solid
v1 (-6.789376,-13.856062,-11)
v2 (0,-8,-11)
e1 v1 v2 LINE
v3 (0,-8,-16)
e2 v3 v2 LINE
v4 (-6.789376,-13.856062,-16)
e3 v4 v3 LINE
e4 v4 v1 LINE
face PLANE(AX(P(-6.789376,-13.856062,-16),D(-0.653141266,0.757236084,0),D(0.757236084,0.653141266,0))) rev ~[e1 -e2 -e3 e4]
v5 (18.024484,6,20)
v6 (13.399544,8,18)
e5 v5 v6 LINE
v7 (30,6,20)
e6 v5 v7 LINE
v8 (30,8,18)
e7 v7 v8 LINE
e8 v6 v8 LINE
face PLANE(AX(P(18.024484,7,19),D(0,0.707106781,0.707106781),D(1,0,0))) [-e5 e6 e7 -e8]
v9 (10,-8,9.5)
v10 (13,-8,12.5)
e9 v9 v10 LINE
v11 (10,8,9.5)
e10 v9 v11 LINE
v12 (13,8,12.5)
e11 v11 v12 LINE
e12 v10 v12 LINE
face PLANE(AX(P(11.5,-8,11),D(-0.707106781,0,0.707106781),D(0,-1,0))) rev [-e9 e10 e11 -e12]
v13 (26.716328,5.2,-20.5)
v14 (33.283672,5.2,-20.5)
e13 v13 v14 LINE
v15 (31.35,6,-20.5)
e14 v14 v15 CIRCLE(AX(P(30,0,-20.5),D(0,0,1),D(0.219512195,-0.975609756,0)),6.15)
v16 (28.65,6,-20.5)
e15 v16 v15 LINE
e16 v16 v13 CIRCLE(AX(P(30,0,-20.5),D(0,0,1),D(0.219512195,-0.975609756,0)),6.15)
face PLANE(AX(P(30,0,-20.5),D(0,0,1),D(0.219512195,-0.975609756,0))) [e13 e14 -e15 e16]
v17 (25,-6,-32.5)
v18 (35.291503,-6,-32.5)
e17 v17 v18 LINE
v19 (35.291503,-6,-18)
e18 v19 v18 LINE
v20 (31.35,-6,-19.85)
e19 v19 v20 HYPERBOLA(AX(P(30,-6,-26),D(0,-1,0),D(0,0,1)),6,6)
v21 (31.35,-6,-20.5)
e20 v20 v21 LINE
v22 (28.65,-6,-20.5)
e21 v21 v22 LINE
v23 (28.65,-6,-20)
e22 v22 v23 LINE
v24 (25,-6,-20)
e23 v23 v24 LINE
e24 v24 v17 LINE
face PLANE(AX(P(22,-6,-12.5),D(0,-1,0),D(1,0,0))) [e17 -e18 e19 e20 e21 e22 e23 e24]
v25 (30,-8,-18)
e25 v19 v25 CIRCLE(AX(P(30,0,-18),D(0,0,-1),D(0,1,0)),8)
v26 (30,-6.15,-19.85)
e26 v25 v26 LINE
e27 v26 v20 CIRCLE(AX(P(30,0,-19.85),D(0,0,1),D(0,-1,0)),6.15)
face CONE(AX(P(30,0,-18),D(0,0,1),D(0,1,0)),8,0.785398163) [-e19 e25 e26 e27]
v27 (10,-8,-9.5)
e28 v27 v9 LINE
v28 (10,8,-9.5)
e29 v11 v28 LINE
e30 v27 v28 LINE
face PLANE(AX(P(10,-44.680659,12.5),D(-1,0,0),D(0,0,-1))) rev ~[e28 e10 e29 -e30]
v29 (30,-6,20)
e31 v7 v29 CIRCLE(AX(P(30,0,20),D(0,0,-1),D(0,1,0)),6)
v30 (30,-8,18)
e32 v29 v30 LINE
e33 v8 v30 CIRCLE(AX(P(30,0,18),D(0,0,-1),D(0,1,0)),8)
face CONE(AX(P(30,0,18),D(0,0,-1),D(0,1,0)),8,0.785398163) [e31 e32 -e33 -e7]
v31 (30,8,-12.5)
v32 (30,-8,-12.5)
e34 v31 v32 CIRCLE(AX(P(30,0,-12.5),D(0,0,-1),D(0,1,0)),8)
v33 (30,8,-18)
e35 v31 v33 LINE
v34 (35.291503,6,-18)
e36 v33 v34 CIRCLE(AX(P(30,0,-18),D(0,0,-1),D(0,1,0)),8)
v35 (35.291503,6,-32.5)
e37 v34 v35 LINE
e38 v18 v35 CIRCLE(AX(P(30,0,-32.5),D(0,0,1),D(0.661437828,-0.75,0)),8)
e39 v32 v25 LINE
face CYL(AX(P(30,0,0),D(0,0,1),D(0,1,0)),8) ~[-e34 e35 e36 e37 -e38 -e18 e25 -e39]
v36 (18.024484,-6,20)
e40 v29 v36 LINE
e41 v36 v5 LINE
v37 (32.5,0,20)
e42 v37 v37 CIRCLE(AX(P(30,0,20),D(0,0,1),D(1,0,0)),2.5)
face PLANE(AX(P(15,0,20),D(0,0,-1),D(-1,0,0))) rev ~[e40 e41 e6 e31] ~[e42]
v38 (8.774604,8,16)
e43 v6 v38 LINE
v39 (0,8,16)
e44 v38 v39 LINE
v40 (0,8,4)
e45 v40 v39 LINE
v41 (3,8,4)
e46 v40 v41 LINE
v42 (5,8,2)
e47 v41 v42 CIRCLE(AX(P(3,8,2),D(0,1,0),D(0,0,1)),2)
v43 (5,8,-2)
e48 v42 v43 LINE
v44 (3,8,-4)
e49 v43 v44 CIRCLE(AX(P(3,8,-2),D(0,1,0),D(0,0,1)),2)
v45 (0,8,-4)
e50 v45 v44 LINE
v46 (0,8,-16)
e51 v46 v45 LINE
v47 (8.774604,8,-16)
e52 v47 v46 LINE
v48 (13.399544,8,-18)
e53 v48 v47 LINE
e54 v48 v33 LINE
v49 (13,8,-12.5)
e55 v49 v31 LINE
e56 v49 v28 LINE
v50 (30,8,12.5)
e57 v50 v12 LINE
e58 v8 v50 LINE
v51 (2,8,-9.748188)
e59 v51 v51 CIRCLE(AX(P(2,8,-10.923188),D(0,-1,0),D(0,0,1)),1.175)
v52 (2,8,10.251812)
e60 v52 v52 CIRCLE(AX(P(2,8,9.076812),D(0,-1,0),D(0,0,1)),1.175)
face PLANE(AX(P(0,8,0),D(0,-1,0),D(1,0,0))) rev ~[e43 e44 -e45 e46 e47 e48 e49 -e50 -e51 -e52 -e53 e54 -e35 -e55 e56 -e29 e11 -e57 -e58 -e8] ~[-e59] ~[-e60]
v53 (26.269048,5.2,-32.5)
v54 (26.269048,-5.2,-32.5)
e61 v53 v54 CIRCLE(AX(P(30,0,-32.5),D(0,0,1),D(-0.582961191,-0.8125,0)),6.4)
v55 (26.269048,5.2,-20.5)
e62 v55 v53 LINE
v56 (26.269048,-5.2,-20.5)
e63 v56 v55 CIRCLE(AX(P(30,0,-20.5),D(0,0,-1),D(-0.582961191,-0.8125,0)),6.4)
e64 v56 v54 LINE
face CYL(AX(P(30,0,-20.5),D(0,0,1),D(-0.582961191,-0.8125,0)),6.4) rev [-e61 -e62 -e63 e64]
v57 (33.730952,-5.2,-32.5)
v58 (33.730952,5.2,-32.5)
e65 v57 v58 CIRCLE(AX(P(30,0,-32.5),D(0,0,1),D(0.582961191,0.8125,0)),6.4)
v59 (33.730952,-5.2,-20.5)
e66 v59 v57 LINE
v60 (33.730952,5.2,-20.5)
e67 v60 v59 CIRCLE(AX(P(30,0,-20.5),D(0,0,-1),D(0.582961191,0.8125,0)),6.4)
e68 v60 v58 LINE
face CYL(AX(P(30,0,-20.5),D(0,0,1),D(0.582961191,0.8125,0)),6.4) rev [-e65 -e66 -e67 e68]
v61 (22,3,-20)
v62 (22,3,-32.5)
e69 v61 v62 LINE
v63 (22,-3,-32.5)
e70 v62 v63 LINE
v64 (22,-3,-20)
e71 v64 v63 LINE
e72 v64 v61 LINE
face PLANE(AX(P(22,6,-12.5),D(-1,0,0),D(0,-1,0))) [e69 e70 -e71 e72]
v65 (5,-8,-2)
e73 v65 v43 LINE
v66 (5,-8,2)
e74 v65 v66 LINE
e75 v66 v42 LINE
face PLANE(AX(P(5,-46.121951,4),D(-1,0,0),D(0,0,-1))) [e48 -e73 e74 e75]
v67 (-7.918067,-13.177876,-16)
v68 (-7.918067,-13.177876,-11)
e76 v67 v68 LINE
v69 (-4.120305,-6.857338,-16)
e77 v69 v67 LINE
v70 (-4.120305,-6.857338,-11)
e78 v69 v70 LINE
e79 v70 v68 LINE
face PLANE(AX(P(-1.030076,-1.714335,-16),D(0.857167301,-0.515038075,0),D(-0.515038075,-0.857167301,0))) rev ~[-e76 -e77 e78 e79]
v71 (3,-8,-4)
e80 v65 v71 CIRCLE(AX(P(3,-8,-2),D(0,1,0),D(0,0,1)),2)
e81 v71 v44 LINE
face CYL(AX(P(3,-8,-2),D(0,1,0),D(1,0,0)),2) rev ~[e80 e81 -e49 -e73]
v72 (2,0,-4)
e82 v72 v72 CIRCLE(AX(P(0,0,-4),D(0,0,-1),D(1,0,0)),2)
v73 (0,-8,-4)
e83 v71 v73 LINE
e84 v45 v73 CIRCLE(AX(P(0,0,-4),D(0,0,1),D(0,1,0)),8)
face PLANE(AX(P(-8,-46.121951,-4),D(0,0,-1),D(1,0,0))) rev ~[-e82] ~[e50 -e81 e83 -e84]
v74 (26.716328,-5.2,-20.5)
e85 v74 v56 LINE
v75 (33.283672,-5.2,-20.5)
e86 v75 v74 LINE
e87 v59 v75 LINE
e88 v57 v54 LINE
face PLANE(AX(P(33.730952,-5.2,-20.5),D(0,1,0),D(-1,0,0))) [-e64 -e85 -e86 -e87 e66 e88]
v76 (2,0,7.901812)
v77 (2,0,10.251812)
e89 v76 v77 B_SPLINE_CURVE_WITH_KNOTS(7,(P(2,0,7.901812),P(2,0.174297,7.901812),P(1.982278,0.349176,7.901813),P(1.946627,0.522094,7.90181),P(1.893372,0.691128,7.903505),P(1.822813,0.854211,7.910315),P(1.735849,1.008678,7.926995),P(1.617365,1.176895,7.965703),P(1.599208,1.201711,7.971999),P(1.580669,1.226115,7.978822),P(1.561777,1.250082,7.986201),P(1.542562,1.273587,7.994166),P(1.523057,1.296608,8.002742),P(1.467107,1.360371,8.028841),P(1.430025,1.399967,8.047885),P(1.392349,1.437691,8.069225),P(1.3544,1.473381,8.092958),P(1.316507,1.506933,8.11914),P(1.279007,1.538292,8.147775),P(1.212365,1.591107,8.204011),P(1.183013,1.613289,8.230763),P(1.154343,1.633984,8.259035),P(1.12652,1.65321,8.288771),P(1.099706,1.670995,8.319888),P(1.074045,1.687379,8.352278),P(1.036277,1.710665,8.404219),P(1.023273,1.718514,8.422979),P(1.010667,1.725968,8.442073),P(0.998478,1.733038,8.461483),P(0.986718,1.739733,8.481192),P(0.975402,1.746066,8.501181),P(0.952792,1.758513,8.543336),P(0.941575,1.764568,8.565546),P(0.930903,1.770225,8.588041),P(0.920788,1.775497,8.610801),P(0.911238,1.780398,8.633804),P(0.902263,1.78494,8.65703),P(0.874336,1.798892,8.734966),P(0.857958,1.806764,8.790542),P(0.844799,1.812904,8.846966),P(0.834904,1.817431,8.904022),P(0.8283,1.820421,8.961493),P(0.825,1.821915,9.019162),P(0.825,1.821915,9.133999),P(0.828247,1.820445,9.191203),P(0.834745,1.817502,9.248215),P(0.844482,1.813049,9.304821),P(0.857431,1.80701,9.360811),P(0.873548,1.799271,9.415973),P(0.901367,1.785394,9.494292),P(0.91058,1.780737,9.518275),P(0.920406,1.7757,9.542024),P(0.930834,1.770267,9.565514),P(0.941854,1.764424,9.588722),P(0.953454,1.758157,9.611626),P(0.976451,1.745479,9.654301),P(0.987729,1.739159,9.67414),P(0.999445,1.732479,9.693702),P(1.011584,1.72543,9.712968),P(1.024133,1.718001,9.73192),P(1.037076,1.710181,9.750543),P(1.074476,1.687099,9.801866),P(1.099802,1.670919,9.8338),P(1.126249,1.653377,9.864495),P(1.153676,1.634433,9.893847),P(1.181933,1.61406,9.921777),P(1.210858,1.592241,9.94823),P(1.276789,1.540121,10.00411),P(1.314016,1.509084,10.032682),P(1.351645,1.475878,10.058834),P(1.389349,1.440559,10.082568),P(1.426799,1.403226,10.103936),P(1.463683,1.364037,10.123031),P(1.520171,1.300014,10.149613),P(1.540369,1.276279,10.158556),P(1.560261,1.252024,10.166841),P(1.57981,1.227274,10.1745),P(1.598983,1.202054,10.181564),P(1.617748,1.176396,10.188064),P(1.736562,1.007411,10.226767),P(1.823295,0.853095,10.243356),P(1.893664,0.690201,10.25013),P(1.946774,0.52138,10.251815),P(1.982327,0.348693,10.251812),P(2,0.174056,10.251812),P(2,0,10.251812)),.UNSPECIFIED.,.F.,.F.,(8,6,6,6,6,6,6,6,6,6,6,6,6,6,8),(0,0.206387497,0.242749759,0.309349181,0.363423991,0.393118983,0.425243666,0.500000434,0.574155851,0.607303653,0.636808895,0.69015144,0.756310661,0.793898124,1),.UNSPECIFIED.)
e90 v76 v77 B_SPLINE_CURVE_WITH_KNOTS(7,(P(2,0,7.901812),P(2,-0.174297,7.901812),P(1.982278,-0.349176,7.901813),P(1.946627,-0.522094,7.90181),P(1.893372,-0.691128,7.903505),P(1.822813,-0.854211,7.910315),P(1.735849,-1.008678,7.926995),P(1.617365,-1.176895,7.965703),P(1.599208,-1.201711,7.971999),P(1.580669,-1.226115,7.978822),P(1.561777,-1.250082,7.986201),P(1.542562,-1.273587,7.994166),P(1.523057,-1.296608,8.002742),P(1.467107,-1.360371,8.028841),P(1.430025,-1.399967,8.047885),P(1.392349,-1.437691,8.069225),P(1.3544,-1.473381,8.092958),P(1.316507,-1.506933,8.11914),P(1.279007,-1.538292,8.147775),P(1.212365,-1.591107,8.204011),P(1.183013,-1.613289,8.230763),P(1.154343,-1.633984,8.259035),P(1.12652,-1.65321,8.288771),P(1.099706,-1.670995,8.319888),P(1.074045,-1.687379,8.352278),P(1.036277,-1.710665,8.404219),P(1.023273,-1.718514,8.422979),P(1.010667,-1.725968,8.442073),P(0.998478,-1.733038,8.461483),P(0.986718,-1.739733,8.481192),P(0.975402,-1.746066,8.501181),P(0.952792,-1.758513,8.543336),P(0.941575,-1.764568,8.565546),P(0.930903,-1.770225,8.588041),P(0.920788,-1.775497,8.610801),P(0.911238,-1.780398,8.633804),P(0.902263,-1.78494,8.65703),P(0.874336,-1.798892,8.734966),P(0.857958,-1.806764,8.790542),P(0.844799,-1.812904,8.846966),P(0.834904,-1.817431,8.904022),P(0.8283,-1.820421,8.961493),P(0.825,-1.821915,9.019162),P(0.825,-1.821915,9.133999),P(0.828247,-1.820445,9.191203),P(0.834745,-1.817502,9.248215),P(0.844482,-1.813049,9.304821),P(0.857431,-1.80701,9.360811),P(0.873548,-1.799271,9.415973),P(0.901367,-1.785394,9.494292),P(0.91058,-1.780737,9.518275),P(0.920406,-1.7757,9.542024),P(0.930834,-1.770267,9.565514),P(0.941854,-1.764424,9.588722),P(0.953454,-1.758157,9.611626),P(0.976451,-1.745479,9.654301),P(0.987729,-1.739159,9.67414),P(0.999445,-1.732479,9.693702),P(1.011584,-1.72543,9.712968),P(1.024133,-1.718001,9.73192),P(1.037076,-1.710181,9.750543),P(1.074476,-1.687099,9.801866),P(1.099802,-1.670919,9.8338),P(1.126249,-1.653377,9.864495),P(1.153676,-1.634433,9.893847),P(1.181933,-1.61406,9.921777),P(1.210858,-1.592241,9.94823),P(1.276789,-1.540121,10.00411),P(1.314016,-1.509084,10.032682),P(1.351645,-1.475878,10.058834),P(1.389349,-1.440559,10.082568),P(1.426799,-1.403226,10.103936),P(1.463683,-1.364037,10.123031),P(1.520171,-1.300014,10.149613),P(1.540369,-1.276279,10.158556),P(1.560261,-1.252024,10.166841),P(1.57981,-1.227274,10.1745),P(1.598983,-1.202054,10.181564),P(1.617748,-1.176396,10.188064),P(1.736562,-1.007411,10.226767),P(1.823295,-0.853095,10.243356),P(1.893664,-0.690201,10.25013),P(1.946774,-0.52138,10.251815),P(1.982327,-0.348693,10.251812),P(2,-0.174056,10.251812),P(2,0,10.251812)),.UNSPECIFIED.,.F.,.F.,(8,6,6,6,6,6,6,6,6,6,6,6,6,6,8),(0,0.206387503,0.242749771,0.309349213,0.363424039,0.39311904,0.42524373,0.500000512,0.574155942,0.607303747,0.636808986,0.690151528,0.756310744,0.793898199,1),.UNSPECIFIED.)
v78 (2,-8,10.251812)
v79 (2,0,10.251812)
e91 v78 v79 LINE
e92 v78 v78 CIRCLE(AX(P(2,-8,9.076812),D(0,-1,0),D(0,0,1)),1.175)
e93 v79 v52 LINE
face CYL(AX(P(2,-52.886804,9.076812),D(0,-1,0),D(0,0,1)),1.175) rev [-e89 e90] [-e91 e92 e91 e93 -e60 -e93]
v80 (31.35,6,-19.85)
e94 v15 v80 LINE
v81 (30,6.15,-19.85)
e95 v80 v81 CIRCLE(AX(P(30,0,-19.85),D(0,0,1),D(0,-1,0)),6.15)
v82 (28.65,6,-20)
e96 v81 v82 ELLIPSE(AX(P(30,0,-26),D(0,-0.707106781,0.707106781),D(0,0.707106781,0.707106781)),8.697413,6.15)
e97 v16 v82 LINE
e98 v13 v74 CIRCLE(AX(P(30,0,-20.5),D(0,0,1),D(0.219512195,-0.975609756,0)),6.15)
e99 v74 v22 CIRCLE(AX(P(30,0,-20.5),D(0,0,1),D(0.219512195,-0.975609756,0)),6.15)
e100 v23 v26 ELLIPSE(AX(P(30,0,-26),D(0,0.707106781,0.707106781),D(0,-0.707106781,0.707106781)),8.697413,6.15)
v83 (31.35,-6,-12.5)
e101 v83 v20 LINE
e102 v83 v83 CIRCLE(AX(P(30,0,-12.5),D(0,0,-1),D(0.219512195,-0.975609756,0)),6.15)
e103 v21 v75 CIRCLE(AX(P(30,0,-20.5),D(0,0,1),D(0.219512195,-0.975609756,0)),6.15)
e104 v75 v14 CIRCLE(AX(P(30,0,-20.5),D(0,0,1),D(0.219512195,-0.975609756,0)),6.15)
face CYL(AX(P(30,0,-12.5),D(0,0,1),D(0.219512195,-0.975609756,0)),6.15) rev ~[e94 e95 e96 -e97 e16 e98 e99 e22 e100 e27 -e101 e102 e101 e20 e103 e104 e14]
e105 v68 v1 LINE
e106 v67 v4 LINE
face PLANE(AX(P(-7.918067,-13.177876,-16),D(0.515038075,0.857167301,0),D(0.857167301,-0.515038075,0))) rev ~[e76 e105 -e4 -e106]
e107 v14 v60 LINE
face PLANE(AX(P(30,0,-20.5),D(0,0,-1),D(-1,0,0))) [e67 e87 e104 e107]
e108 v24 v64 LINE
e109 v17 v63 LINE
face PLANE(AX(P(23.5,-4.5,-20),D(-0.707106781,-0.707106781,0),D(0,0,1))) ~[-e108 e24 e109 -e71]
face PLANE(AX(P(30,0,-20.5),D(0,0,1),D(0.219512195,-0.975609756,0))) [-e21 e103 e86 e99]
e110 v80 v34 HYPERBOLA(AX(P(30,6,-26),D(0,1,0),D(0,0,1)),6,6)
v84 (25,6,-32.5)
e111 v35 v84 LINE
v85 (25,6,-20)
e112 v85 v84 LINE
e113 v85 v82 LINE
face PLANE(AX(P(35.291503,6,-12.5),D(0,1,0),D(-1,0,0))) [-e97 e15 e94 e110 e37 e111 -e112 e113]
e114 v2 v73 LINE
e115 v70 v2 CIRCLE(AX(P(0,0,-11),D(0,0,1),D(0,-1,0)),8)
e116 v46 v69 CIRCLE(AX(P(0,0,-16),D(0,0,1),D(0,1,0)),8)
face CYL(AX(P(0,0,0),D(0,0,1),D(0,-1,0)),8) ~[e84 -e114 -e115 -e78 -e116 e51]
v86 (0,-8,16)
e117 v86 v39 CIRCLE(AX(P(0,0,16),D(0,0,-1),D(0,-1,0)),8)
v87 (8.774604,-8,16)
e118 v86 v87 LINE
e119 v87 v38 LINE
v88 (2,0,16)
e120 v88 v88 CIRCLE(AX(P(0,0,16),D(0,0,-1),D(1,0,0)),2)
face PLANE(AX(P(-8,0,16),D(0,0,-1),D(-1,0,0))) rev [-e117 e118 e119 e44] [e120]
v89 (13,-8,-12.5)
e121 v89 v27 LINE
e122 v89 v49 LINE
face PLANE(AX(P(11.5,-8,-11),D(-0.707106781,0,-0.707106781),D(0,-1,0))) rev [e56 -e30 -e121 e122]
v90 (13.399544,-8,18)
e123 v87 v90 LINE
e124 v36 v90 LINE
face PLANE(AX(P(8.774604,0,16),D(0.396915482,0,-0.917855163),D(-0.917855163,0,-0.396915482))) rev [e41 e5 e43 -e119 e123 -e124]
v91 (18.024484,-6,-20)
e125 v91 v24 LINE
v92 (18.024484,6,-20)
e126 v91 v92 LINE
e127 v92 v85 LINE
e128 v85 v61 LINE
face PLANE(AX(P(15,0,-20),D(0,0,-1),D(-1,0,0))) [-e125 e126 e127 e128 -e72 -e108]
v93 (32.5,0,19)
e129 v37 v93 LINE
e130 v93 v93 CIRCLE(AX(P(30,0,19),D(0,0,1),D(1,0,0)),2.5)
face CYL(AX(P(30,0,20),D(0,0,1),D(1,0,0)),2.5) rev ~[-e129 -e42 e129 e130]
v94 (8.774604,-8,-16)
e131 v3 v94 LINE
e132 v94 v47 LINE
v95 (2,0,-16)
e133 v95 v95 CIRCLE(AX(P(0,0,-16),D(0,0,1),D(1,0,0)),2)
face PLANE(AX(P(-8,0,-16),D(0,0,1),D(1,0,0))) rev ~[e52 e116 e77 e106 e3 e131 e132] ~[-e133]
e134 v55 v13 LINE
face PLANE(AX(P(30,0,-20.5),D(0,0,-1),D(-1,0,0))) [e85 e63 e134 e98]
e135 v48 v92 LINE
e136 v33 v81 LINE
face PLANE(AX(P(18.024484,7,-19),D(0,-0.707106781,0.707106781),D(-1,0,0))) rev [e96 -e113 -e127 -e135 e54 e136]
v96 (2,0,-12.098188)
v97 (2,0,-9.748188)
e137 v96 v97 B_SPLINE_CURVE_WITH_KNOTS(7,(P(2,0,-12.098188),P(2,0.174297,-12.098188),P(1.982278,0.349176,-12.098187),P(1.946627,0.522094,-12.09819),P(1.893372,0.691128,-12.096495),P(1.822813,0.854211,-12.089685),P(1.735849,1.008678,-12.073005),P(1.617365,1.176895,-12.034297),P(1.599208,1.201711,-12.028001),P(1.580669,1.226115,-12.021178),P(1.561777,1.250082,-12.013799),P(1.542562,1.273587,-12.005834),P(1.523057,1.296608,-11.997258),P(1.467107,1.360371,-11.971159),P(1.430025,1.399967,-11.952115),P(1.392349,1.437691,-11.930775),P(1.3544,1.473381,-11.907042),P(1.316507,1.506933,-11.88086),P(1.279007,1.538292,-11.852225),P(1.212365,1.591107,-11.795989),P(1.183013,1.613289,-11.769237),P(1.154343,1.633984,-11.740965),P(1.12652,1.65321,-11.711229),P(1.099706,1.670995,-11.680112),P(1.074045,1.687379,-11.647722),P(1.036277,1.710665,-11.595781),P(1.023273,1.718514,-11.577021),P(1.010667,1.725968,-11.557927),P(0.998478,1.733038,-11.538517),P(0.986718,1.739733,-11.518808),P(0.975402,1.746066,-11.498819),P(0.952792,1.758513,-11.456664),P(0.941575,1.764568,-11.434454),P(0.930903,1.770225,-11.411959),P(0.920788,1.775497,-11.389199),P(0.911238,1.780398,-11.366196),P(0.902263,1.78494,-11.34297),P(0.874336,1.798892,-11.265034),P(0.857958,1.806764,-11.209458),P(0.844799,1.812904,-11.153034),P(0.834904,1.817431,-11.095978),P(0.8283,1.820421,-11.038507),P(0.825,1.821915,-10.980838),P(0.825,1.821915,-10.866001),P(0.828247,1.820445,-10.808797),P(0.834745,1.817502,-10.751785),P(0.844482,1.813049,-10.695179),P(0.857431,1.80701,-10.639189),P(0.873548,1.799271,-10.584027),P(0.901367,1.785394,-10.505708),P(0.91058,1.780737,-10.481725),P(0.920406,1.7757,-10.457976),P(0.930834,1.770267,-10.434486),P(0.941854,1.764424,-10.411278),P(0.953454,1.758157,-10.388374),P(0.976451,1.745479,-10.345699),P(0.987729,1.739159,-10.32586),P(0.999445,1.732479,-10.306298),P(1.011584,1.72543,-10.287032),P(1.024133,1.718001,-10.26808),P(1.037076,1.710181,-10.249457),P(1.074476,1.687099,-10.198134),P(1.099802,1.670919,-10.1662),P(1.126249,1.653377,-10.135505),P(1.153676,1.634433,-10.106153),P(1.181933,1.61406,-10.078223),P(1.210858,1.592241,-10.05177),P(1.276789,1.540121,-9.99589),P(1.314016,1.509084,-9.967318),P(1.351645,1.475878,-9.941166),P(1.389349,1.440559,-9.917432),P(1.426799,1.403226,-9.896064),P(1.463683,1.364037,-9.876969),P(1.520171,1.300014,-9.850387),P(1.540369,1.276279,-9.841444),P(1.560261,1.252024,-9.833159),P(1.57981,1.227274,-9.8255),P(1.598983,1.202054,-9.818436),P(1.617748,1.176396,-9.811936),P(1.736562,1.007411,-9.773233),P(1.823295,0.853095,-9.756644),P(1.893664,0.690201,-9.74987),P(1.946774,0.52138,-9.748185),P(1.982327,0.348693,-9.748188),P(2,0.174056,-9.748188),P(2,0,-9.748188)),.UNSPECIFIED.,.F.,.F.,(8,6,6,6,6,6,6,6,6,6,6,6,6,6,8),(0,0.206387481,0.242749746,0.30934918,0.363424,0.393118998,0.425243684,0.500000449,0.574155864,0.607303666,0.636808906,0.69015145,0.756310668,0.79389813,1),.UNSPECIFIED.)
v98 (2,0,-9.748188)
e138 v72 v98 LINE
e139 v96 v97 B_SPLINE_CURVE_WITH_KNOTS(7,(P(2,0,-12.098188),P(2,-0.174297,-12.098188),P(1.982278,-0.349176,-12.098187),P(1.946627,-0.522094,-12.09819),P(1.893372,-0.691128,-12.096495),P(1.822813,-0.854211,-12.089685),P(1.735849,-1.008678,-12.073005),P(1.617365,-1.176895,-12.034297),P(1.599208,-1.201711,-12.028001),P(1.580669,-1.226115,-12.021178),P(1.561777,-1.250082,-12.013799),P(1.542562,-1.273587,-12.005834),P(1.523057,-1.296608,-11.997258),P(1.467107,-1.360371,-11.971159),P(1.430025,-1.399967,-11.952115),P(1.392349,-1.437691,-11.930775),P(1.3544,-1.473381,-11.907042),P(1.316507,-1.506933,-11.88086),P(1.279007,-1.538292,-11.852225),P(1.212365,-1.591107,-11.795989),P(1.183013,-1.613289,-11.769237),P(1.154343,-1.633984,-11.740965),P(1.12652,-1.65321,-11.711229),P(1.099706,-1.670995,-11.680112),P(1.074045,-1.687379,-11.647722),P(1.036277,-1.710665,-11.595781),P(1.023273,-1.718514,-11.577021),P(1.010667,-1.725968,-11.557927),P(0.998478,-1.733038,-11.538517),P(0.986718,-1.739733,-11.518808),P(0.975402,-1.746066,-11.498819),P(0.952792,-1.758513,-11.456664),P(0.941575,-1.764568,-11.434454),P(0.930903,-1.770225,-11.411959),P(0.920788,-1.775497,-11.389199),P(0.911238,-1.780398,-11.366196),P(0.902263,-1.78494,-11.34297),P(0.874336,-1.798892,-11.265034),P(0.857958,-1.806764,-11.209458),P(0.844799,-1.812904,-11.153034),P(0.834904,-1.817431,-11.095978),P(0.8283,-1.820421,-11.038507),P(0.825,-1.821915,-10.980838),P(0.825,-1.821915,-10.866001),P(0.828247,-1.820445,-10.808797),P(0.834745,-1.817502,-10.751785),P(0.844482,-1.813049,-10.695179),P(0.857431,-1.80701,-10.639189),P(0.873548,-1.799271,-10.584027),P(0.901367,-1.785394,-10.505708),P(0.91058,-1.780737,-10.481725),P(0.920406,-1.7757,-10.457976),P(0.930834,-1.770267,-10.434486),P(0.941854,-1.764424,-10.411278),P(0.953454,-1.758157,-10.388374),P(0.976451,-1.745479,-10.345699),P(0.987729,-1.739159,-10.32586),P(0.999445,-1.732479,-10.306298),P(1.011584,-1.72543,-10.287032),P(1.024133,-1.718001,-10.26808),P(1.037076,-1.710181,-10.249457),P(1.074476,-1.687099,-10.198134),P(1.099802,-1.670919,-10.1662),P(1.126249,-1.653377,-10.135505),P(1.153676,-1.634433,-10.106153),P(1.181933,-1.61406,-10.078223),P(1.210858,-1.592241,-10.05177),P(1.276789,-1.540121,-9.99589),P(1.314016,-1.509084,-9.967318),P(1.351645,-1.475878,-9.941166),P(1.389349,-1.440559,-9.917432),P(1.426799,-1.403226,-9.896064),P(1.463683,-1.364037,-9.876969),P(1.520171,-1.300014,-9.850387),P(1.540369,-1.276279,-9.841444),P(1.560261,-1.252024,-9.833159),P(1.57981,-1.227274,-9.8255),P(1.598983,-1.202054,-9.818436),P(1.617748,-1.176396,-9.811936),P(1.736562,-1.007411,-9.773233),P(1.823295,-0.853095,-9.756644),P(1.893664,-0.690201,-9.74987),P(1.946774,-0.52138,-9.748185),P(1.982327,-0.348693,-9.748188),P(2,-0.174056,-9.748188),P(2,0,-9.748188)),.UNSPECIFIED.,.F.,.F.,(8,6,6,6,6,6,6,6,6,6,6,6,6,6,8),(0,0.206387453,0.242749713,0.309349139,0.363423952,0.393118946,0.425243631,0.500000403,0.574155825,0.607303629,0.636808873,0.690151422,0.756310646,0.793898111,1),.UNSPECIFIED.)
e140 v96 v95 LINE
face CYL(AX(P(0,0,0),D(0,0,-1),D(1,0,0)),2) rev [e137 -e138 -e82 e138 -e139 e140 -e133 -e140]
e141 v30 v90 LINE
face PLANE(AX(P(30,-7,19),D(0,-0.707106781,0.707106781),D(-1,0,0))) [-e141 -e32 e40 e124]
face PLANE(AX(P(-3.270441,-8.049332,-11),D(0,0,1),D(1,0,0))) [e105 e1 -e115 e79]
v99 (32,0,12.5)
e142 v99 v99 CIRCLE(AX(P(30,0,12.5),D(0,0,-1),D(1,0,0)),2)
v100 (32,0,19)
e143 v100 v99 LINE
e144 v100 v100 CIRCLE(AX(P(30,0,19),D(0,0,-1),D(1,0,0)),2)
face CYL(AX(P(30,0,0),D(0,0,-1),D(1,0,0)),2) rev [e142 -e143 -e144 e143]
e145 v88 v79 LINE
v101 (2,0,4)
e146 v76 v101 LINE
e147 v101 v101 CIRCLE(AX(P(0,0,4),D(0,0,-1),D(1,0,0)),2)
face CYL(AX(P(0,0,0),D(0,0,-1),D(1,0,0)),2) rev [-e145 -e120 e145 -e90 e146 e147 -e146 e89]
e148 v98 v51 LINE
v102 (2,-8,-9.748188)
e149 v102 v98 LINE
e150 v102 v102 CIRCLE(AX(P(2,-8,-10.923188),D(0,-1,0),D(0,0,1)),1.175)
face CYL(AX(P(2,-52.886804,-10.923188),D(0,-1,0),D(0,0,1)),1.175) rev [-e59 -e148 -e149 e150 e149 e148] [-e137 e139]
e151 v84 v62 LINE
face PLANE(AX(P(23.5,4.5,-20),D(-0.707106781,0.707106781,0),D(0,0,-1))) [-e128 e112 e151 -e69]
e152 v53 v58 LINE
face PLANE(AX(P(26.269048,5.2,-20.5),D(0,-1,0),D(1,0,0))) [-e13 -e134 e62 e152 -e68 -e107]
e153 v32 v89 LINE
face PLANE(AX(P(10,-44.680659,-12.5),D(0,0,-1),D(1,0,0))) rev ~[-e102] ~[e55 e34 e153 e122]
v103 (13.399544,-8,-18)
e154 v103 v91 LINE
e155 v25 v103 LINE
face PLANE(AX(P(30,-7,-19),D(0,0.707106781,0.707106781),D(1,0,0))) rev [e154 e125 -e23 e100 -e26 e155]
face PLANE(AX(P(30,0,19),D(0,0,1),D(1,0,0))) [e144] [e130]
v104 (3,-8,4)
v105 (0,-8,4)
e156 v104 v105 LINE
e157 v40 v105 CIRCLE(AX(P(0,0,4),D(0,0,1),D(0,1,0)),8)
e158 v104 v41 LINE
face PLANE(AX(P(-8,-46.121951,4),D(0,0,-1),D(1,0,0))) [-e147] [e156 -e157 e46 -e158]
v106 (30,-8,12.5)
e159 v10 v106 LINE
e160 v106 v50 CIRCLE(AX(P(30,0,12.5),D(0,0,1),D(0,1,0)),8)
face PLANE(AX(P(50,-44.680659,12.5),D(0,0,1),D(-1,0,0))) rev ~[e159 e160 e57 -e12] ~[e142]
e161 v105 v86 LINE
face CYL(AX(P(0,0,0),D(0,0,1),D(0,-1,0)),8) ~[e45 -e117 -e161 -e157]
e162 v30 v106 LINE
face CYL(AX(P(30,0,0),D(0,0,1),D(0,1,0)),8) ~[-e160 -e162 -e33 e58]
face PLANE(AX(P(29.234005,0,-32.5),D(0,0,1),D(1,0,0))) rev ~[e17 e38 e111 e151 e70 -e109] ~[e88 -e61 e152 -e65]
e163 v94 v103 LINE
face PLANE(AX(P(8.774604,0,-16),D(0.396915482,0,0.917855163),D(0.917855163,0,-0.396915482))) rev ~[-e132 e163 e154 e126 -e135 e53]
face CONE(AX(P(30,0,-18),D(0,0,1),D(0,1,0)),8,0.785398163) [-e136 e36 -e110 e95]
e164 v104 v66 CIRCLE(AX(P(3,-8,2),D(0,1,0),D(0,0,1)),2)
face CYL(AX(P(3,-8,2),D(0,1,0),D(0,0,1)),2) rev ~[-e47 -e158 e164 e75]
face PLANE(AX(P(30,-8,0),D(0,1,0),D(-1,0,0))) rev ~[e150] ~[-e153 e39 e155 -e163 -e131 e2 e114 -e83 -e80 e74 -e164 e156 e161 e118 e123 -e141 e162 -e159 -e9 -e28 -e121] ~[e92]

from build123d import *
from build123d.topology import SkipClean

# Parameters (mm, degrees)
CROQUIS1_R                 = 2
CROQUIS1_R_2               = 2.000000000000003
SALIENTE_EXTRUIR1_DEPTH    = 20
CORTAR_EXTRUIR1_DEPTH      = 44.68065933568311
CORTAR_EXTRUIR2_DEPTH      = 44.68065933568311
CORTAR_EXTRUIR2_DEPTH_BACK = 44.68065933568311
BOSS_EXTRUDE2_START        = -16
BOSS_EXTRUDE2_DEPTH        = 5
CHAFL_N1_SIZE              = 2
CHAFL_N2_SIZE              = 3
CORTAR_EXTRUIR3_DEPTH      = 46.12195091942049
CORTAR_EXTRUIR3_DEPTH_BACK = 46.12195091942049
CROQUIS4_W                 = 13
CROQUIS4_H                 = 8.000000000000007
BOSS_EXTRUDE1_START        = -12.5
SKETCH4_R                  = 2.000000000000003
BOSS_EXTRUDE1_DEPTH        = 20
CUT_EXTRUDE2_START         = -12.5
SKETCH6_R                  = 6.150000000000001
CUT_EXTRUDE2_DEPTH         = 8
CUT_EXTRUDE1_START         = -20.5
CUT_EXTRUDE1_DEPTH         = 32.38680424515073
CUT_EXTRUDE3_START         = 20
SKETCH7_R                  = 2.500000000000002
CUT_EXTRUDE3_DEPTH         = 1
CHAMFER2_SIZE              = 3
CUT_EXTRUDE4_DEPTH         = 52.88680424515073
CUT_EXTRUDE4_DEPTH_BACK    = 52.88680424515073
SKETCH9_R                  = 1.1750000000000003
FILLET1_R                  = 2


with BuildPart() as part:
    # Croquis1 → Saliente-Extruir1 (new, symmetric)
    with BuildSketch(Plane.XY):
        with BuildLine():
            Line((0, 8), (30, 8))
            ThreePointArc((30, 8), (38, 0), (30, -8))
            Line((30, -8), (0, -8))
            ThreePointArc((0, -8), (-8, 9.8e-16), (0, 8))
        make_face()
        Circle(CROQUIS1_R, mode=Mode.SUBTRACT)
        with Locations((30, 0)):
            Circle(CROQUIS1_R_2, mode=Mode.SUBTRACT)
    extrude(amount=SALIENTE_EXTRUIR1_DEPTH, both=True)

    # Croquis2 → Cortar-Extruir1 (cut, symmetric)
    with BuildSketch(Plane(origin=(0, 0, 0), x_dir=(1, 0, 0), z_dir=(0, 1, 0))):
        Polygon((-8, 16), (8.77460379211011, 16), (18.02448398763881, 20), (-8, 20), align=None)
    cortar_extruir1 = extrude(amount=CORTAR_EXTRUIR1_DEPTH, both=True, mode=Mode.SUBTRACT)

    # Simetría1: Cortar-Extruir1 across plane
    add(cortar_extruir1.mirror(Plane.XY), mode=Mode.SUBTRACT)

    # Croquis3 → Cortar-Extruir2 (cut, two sides: drawn at the far end of the back side and taken through both)
    with BuildSketch(Plane(origin=(0, 0, 0), x_dir=(1, 0, 0), z_dir=(0, 1, 0)).offset(-CORTAR_EXTRUIR2_DEPTH_BACK)):
        Polygon((49.99999999999999, -12.499999999999998), (9.999999999999998, -12.500000000000004), (9.999999999999998, 12.499999999999996), (49.99999999999999, 12.500000000000002), align=None)
    extrude(amount=CORTAR_EXTRUIR2_DEPTH + CORTAR_EXTRUIR2_DEPTH_BACK, mode=Mode.SUBTRACT)

    # Sketch8 → Boss-Extrude2 (add)
    with SkipClean():  # the faces are left unmerged after this step: merging them gives an invalid solid
        with BuildSketch(Plane.XY.offset(BOSS_EXTRUDE2_START)):
            with BuildLine():
                ThreePointArc((-3.7e-16, -2), (-0.5344767521565125, -1.9272609064172463), (-1.0300761498201043, -1.714334601404227))
                Line((-1.0300761498201039, -1.7143346014042276), (-7.918066759935976, -13.177876048443173))
                Line((-7.918066759935977, -13.177876048443173), (-6.789375757901606, -13.856062022616376))
                Line((-6.789375757901606, -13.856062022616376), (0, -8))
                Line((0, -8), (0, -2))
            make_face()
        extrude(amount=BOSS_EXTRUDE2_DEPTH)

    # Chaflán1
    chafl_n1_edges = [part.edges().sort_by_distance(p)[0] for p in [
        (38, -4e-16, 20),
        (24.012241993819405, 8, 20),
        (24.012241993819405, -8, -20),
        (24.012241993819405, 8, -20),
        (24.012241993819405, -8, 20),
        (38, -4e-16, -20),
    ]]
    chamfer(chafl_n1_edges, length=CHAFL_N1_SIZE)

    # Chaflán2
    chafl_n2_edges = [part.edges().sort_by_distance(p)[0] for p in [
        (9.999999999999998, 0, -12.499999999999996),
        (9.999999999999998, 0, 12.500000000000004),
    ]]
    chamfer(chafl_n2_edges, length=CHAFL_N2_SIZE)

    # Croquis4 → Cortar-Extruir3 (cut, two sides: drawn at the far end of the back side and taken through both)
    with SkipClean():  # the faces are left unmerged after this step: merging them gives an invalid solid
        with BuildSketch(Plane(origin=(0, 0, 0), x_dir=(1, 0, 0), z_dir=(0, 1, 0)).offset(-CORTAR_EXTRUIR3_DEPTH_BACK)):
            with Locations((-1.5, 0)):
                Rectangle(CROQUIS4_W, CROQUIS4_H)
        extrude(amount=CORTAR_EXTRUIR3_DEPTH + CORTAR_EXTRUIR3_DEPTH_BACK, mode=Mode.SUBTRACT)

    # Sketch4 → Boss-Extrude1 (add)
    with SkipClean():  # the faces are left unmerged after this step: merging them gives an invalid solid
        with BuildSketch(Plane.XY.offset(BOSS_EXTRUDE1_START)):
            with BuildLine():
                Line((22, 6.000000000000003), (22.000000000000004, -6.000000000000014))
                Line((22.000000000000004, -6.000000000000014), (35.291502622129165, -6.000000000000012))
                ThreePointArc((35.291502622129165, -6.000000000000012), (38, 4.44e-15), (35.29150262212916, 6.000000000000019))
                Line((35.29150262212916, 6.000000000000019), (22, 6.000000000000003))
            make_face()
            with Locations(Location((30, 0, 0), (0, 0, 180))):
                Circle(SKETCH4_R, mode=Mode.SUBTRACT)
        extrude(amount=-BOSS_EXTRUDE1_DEPTH)

    # Sketch6 → Cut-Extrude2 (cut)
    with SkipClean():  # the faces are left unmerged after this step: merging them gives an invalid solid
        with BuildSketch(Plane.XY.offset(CUT_EXTRUDE2_START)):
            with Locations(Location((30, 0, 0), (0, 0, 282.680383492))):
                Circle(SKETCH6_R)
        extrude(amount=-CUT_EXTRUDE2_DEPTH, mode=Mode.SUBTRACT)

    # Sketch5 → Cut-Extrude1 (cut, through all)
    with SkipClean():  # the faces are left unmerged after this step: merging them gives an invalid solid
        with BuildSketch(Plane.XY.offset(CUT_EXTRUDE1_START)):
            with BuildLine():
                Line((26.26904837876446, 5.2), (33.73095162123554, 5.2))
                ThreePointArc((33.73095162123554, 5.2), (36.400000000000006, 7.1e-16), (33.73095162123554, -5.199999999999998))
                Line((33.73095162123554, -5.199999999999998), (26.26904837876446, -5.2))
                ThreePointArc((26.26904837876446, -5.2), (23.59999999999999, 7.8e-16), (26.26904837876446, 5.2))
            make_face()
        extrude(amount=-CUT_EXTRUDE1_DEPTH, mode=Mode.SUBTRACT)

    # Sketch7 → Cut-Extrude3 (cut)
    with SkipClean():  # the faces are left unmerged after this step: merging them gives an invalid solid
        with BuildSketch(Plane.XY.offset(CUT_EXTRUDE3_START)):
            with Locations((30, 0)):
                Circle(SKETCH7_R)
        extrude(amount=-CUT_EXTRUDE3_DEPTH, mode=Mode.SUBTRACT)

    # Chamfer2
    chamfer2_edges = [part.edges().sort_by_distance(p)[0] for p in [
        (22.000000000000004, -6.000000000000014, -26.25),
        (22, 6.000000000000003, -26.25),
    ]]
    chamfer(chamfer2_edges, length=CHAMFER2_SIZE)

    # Sketch9 → Cut-Extrude4 (cut, two sides: drawn at the far end of the back side and taken through both)
    with BuildSketch(Plane(origin=(0, 0, 0), x_dir=(1, 0, 0), z_dir=(0, 1, 0)).offset(-CUT_EXTRUDE4_DEPTH_BACK)):
        with Locations(Location((2, 10.923187610000003, 0), (0, 0, 270))):
            Circle(SKETCH9_R)
        with Locations(Location((2, -9.076812389999997, 0), (0, 0, 270))):
            Circle(SKETCH9_R)
    extrude(amount=CUT_EXTRUDE4_DEPTH + CUT_EXTRUDE4_DEPTH_BACK, mode=Mode.SUBTRACT)

    # Fillet1
    fillet1_edges = [part.edges().sort_by_distance(p)[0] for p in [
        (5, 0, -4.0000000000000036),
        (5, 0, 4.0000000000000036),
    ]]
    fillet(fillet1_edges, radius=FILLET1_R)


solid = part.part
